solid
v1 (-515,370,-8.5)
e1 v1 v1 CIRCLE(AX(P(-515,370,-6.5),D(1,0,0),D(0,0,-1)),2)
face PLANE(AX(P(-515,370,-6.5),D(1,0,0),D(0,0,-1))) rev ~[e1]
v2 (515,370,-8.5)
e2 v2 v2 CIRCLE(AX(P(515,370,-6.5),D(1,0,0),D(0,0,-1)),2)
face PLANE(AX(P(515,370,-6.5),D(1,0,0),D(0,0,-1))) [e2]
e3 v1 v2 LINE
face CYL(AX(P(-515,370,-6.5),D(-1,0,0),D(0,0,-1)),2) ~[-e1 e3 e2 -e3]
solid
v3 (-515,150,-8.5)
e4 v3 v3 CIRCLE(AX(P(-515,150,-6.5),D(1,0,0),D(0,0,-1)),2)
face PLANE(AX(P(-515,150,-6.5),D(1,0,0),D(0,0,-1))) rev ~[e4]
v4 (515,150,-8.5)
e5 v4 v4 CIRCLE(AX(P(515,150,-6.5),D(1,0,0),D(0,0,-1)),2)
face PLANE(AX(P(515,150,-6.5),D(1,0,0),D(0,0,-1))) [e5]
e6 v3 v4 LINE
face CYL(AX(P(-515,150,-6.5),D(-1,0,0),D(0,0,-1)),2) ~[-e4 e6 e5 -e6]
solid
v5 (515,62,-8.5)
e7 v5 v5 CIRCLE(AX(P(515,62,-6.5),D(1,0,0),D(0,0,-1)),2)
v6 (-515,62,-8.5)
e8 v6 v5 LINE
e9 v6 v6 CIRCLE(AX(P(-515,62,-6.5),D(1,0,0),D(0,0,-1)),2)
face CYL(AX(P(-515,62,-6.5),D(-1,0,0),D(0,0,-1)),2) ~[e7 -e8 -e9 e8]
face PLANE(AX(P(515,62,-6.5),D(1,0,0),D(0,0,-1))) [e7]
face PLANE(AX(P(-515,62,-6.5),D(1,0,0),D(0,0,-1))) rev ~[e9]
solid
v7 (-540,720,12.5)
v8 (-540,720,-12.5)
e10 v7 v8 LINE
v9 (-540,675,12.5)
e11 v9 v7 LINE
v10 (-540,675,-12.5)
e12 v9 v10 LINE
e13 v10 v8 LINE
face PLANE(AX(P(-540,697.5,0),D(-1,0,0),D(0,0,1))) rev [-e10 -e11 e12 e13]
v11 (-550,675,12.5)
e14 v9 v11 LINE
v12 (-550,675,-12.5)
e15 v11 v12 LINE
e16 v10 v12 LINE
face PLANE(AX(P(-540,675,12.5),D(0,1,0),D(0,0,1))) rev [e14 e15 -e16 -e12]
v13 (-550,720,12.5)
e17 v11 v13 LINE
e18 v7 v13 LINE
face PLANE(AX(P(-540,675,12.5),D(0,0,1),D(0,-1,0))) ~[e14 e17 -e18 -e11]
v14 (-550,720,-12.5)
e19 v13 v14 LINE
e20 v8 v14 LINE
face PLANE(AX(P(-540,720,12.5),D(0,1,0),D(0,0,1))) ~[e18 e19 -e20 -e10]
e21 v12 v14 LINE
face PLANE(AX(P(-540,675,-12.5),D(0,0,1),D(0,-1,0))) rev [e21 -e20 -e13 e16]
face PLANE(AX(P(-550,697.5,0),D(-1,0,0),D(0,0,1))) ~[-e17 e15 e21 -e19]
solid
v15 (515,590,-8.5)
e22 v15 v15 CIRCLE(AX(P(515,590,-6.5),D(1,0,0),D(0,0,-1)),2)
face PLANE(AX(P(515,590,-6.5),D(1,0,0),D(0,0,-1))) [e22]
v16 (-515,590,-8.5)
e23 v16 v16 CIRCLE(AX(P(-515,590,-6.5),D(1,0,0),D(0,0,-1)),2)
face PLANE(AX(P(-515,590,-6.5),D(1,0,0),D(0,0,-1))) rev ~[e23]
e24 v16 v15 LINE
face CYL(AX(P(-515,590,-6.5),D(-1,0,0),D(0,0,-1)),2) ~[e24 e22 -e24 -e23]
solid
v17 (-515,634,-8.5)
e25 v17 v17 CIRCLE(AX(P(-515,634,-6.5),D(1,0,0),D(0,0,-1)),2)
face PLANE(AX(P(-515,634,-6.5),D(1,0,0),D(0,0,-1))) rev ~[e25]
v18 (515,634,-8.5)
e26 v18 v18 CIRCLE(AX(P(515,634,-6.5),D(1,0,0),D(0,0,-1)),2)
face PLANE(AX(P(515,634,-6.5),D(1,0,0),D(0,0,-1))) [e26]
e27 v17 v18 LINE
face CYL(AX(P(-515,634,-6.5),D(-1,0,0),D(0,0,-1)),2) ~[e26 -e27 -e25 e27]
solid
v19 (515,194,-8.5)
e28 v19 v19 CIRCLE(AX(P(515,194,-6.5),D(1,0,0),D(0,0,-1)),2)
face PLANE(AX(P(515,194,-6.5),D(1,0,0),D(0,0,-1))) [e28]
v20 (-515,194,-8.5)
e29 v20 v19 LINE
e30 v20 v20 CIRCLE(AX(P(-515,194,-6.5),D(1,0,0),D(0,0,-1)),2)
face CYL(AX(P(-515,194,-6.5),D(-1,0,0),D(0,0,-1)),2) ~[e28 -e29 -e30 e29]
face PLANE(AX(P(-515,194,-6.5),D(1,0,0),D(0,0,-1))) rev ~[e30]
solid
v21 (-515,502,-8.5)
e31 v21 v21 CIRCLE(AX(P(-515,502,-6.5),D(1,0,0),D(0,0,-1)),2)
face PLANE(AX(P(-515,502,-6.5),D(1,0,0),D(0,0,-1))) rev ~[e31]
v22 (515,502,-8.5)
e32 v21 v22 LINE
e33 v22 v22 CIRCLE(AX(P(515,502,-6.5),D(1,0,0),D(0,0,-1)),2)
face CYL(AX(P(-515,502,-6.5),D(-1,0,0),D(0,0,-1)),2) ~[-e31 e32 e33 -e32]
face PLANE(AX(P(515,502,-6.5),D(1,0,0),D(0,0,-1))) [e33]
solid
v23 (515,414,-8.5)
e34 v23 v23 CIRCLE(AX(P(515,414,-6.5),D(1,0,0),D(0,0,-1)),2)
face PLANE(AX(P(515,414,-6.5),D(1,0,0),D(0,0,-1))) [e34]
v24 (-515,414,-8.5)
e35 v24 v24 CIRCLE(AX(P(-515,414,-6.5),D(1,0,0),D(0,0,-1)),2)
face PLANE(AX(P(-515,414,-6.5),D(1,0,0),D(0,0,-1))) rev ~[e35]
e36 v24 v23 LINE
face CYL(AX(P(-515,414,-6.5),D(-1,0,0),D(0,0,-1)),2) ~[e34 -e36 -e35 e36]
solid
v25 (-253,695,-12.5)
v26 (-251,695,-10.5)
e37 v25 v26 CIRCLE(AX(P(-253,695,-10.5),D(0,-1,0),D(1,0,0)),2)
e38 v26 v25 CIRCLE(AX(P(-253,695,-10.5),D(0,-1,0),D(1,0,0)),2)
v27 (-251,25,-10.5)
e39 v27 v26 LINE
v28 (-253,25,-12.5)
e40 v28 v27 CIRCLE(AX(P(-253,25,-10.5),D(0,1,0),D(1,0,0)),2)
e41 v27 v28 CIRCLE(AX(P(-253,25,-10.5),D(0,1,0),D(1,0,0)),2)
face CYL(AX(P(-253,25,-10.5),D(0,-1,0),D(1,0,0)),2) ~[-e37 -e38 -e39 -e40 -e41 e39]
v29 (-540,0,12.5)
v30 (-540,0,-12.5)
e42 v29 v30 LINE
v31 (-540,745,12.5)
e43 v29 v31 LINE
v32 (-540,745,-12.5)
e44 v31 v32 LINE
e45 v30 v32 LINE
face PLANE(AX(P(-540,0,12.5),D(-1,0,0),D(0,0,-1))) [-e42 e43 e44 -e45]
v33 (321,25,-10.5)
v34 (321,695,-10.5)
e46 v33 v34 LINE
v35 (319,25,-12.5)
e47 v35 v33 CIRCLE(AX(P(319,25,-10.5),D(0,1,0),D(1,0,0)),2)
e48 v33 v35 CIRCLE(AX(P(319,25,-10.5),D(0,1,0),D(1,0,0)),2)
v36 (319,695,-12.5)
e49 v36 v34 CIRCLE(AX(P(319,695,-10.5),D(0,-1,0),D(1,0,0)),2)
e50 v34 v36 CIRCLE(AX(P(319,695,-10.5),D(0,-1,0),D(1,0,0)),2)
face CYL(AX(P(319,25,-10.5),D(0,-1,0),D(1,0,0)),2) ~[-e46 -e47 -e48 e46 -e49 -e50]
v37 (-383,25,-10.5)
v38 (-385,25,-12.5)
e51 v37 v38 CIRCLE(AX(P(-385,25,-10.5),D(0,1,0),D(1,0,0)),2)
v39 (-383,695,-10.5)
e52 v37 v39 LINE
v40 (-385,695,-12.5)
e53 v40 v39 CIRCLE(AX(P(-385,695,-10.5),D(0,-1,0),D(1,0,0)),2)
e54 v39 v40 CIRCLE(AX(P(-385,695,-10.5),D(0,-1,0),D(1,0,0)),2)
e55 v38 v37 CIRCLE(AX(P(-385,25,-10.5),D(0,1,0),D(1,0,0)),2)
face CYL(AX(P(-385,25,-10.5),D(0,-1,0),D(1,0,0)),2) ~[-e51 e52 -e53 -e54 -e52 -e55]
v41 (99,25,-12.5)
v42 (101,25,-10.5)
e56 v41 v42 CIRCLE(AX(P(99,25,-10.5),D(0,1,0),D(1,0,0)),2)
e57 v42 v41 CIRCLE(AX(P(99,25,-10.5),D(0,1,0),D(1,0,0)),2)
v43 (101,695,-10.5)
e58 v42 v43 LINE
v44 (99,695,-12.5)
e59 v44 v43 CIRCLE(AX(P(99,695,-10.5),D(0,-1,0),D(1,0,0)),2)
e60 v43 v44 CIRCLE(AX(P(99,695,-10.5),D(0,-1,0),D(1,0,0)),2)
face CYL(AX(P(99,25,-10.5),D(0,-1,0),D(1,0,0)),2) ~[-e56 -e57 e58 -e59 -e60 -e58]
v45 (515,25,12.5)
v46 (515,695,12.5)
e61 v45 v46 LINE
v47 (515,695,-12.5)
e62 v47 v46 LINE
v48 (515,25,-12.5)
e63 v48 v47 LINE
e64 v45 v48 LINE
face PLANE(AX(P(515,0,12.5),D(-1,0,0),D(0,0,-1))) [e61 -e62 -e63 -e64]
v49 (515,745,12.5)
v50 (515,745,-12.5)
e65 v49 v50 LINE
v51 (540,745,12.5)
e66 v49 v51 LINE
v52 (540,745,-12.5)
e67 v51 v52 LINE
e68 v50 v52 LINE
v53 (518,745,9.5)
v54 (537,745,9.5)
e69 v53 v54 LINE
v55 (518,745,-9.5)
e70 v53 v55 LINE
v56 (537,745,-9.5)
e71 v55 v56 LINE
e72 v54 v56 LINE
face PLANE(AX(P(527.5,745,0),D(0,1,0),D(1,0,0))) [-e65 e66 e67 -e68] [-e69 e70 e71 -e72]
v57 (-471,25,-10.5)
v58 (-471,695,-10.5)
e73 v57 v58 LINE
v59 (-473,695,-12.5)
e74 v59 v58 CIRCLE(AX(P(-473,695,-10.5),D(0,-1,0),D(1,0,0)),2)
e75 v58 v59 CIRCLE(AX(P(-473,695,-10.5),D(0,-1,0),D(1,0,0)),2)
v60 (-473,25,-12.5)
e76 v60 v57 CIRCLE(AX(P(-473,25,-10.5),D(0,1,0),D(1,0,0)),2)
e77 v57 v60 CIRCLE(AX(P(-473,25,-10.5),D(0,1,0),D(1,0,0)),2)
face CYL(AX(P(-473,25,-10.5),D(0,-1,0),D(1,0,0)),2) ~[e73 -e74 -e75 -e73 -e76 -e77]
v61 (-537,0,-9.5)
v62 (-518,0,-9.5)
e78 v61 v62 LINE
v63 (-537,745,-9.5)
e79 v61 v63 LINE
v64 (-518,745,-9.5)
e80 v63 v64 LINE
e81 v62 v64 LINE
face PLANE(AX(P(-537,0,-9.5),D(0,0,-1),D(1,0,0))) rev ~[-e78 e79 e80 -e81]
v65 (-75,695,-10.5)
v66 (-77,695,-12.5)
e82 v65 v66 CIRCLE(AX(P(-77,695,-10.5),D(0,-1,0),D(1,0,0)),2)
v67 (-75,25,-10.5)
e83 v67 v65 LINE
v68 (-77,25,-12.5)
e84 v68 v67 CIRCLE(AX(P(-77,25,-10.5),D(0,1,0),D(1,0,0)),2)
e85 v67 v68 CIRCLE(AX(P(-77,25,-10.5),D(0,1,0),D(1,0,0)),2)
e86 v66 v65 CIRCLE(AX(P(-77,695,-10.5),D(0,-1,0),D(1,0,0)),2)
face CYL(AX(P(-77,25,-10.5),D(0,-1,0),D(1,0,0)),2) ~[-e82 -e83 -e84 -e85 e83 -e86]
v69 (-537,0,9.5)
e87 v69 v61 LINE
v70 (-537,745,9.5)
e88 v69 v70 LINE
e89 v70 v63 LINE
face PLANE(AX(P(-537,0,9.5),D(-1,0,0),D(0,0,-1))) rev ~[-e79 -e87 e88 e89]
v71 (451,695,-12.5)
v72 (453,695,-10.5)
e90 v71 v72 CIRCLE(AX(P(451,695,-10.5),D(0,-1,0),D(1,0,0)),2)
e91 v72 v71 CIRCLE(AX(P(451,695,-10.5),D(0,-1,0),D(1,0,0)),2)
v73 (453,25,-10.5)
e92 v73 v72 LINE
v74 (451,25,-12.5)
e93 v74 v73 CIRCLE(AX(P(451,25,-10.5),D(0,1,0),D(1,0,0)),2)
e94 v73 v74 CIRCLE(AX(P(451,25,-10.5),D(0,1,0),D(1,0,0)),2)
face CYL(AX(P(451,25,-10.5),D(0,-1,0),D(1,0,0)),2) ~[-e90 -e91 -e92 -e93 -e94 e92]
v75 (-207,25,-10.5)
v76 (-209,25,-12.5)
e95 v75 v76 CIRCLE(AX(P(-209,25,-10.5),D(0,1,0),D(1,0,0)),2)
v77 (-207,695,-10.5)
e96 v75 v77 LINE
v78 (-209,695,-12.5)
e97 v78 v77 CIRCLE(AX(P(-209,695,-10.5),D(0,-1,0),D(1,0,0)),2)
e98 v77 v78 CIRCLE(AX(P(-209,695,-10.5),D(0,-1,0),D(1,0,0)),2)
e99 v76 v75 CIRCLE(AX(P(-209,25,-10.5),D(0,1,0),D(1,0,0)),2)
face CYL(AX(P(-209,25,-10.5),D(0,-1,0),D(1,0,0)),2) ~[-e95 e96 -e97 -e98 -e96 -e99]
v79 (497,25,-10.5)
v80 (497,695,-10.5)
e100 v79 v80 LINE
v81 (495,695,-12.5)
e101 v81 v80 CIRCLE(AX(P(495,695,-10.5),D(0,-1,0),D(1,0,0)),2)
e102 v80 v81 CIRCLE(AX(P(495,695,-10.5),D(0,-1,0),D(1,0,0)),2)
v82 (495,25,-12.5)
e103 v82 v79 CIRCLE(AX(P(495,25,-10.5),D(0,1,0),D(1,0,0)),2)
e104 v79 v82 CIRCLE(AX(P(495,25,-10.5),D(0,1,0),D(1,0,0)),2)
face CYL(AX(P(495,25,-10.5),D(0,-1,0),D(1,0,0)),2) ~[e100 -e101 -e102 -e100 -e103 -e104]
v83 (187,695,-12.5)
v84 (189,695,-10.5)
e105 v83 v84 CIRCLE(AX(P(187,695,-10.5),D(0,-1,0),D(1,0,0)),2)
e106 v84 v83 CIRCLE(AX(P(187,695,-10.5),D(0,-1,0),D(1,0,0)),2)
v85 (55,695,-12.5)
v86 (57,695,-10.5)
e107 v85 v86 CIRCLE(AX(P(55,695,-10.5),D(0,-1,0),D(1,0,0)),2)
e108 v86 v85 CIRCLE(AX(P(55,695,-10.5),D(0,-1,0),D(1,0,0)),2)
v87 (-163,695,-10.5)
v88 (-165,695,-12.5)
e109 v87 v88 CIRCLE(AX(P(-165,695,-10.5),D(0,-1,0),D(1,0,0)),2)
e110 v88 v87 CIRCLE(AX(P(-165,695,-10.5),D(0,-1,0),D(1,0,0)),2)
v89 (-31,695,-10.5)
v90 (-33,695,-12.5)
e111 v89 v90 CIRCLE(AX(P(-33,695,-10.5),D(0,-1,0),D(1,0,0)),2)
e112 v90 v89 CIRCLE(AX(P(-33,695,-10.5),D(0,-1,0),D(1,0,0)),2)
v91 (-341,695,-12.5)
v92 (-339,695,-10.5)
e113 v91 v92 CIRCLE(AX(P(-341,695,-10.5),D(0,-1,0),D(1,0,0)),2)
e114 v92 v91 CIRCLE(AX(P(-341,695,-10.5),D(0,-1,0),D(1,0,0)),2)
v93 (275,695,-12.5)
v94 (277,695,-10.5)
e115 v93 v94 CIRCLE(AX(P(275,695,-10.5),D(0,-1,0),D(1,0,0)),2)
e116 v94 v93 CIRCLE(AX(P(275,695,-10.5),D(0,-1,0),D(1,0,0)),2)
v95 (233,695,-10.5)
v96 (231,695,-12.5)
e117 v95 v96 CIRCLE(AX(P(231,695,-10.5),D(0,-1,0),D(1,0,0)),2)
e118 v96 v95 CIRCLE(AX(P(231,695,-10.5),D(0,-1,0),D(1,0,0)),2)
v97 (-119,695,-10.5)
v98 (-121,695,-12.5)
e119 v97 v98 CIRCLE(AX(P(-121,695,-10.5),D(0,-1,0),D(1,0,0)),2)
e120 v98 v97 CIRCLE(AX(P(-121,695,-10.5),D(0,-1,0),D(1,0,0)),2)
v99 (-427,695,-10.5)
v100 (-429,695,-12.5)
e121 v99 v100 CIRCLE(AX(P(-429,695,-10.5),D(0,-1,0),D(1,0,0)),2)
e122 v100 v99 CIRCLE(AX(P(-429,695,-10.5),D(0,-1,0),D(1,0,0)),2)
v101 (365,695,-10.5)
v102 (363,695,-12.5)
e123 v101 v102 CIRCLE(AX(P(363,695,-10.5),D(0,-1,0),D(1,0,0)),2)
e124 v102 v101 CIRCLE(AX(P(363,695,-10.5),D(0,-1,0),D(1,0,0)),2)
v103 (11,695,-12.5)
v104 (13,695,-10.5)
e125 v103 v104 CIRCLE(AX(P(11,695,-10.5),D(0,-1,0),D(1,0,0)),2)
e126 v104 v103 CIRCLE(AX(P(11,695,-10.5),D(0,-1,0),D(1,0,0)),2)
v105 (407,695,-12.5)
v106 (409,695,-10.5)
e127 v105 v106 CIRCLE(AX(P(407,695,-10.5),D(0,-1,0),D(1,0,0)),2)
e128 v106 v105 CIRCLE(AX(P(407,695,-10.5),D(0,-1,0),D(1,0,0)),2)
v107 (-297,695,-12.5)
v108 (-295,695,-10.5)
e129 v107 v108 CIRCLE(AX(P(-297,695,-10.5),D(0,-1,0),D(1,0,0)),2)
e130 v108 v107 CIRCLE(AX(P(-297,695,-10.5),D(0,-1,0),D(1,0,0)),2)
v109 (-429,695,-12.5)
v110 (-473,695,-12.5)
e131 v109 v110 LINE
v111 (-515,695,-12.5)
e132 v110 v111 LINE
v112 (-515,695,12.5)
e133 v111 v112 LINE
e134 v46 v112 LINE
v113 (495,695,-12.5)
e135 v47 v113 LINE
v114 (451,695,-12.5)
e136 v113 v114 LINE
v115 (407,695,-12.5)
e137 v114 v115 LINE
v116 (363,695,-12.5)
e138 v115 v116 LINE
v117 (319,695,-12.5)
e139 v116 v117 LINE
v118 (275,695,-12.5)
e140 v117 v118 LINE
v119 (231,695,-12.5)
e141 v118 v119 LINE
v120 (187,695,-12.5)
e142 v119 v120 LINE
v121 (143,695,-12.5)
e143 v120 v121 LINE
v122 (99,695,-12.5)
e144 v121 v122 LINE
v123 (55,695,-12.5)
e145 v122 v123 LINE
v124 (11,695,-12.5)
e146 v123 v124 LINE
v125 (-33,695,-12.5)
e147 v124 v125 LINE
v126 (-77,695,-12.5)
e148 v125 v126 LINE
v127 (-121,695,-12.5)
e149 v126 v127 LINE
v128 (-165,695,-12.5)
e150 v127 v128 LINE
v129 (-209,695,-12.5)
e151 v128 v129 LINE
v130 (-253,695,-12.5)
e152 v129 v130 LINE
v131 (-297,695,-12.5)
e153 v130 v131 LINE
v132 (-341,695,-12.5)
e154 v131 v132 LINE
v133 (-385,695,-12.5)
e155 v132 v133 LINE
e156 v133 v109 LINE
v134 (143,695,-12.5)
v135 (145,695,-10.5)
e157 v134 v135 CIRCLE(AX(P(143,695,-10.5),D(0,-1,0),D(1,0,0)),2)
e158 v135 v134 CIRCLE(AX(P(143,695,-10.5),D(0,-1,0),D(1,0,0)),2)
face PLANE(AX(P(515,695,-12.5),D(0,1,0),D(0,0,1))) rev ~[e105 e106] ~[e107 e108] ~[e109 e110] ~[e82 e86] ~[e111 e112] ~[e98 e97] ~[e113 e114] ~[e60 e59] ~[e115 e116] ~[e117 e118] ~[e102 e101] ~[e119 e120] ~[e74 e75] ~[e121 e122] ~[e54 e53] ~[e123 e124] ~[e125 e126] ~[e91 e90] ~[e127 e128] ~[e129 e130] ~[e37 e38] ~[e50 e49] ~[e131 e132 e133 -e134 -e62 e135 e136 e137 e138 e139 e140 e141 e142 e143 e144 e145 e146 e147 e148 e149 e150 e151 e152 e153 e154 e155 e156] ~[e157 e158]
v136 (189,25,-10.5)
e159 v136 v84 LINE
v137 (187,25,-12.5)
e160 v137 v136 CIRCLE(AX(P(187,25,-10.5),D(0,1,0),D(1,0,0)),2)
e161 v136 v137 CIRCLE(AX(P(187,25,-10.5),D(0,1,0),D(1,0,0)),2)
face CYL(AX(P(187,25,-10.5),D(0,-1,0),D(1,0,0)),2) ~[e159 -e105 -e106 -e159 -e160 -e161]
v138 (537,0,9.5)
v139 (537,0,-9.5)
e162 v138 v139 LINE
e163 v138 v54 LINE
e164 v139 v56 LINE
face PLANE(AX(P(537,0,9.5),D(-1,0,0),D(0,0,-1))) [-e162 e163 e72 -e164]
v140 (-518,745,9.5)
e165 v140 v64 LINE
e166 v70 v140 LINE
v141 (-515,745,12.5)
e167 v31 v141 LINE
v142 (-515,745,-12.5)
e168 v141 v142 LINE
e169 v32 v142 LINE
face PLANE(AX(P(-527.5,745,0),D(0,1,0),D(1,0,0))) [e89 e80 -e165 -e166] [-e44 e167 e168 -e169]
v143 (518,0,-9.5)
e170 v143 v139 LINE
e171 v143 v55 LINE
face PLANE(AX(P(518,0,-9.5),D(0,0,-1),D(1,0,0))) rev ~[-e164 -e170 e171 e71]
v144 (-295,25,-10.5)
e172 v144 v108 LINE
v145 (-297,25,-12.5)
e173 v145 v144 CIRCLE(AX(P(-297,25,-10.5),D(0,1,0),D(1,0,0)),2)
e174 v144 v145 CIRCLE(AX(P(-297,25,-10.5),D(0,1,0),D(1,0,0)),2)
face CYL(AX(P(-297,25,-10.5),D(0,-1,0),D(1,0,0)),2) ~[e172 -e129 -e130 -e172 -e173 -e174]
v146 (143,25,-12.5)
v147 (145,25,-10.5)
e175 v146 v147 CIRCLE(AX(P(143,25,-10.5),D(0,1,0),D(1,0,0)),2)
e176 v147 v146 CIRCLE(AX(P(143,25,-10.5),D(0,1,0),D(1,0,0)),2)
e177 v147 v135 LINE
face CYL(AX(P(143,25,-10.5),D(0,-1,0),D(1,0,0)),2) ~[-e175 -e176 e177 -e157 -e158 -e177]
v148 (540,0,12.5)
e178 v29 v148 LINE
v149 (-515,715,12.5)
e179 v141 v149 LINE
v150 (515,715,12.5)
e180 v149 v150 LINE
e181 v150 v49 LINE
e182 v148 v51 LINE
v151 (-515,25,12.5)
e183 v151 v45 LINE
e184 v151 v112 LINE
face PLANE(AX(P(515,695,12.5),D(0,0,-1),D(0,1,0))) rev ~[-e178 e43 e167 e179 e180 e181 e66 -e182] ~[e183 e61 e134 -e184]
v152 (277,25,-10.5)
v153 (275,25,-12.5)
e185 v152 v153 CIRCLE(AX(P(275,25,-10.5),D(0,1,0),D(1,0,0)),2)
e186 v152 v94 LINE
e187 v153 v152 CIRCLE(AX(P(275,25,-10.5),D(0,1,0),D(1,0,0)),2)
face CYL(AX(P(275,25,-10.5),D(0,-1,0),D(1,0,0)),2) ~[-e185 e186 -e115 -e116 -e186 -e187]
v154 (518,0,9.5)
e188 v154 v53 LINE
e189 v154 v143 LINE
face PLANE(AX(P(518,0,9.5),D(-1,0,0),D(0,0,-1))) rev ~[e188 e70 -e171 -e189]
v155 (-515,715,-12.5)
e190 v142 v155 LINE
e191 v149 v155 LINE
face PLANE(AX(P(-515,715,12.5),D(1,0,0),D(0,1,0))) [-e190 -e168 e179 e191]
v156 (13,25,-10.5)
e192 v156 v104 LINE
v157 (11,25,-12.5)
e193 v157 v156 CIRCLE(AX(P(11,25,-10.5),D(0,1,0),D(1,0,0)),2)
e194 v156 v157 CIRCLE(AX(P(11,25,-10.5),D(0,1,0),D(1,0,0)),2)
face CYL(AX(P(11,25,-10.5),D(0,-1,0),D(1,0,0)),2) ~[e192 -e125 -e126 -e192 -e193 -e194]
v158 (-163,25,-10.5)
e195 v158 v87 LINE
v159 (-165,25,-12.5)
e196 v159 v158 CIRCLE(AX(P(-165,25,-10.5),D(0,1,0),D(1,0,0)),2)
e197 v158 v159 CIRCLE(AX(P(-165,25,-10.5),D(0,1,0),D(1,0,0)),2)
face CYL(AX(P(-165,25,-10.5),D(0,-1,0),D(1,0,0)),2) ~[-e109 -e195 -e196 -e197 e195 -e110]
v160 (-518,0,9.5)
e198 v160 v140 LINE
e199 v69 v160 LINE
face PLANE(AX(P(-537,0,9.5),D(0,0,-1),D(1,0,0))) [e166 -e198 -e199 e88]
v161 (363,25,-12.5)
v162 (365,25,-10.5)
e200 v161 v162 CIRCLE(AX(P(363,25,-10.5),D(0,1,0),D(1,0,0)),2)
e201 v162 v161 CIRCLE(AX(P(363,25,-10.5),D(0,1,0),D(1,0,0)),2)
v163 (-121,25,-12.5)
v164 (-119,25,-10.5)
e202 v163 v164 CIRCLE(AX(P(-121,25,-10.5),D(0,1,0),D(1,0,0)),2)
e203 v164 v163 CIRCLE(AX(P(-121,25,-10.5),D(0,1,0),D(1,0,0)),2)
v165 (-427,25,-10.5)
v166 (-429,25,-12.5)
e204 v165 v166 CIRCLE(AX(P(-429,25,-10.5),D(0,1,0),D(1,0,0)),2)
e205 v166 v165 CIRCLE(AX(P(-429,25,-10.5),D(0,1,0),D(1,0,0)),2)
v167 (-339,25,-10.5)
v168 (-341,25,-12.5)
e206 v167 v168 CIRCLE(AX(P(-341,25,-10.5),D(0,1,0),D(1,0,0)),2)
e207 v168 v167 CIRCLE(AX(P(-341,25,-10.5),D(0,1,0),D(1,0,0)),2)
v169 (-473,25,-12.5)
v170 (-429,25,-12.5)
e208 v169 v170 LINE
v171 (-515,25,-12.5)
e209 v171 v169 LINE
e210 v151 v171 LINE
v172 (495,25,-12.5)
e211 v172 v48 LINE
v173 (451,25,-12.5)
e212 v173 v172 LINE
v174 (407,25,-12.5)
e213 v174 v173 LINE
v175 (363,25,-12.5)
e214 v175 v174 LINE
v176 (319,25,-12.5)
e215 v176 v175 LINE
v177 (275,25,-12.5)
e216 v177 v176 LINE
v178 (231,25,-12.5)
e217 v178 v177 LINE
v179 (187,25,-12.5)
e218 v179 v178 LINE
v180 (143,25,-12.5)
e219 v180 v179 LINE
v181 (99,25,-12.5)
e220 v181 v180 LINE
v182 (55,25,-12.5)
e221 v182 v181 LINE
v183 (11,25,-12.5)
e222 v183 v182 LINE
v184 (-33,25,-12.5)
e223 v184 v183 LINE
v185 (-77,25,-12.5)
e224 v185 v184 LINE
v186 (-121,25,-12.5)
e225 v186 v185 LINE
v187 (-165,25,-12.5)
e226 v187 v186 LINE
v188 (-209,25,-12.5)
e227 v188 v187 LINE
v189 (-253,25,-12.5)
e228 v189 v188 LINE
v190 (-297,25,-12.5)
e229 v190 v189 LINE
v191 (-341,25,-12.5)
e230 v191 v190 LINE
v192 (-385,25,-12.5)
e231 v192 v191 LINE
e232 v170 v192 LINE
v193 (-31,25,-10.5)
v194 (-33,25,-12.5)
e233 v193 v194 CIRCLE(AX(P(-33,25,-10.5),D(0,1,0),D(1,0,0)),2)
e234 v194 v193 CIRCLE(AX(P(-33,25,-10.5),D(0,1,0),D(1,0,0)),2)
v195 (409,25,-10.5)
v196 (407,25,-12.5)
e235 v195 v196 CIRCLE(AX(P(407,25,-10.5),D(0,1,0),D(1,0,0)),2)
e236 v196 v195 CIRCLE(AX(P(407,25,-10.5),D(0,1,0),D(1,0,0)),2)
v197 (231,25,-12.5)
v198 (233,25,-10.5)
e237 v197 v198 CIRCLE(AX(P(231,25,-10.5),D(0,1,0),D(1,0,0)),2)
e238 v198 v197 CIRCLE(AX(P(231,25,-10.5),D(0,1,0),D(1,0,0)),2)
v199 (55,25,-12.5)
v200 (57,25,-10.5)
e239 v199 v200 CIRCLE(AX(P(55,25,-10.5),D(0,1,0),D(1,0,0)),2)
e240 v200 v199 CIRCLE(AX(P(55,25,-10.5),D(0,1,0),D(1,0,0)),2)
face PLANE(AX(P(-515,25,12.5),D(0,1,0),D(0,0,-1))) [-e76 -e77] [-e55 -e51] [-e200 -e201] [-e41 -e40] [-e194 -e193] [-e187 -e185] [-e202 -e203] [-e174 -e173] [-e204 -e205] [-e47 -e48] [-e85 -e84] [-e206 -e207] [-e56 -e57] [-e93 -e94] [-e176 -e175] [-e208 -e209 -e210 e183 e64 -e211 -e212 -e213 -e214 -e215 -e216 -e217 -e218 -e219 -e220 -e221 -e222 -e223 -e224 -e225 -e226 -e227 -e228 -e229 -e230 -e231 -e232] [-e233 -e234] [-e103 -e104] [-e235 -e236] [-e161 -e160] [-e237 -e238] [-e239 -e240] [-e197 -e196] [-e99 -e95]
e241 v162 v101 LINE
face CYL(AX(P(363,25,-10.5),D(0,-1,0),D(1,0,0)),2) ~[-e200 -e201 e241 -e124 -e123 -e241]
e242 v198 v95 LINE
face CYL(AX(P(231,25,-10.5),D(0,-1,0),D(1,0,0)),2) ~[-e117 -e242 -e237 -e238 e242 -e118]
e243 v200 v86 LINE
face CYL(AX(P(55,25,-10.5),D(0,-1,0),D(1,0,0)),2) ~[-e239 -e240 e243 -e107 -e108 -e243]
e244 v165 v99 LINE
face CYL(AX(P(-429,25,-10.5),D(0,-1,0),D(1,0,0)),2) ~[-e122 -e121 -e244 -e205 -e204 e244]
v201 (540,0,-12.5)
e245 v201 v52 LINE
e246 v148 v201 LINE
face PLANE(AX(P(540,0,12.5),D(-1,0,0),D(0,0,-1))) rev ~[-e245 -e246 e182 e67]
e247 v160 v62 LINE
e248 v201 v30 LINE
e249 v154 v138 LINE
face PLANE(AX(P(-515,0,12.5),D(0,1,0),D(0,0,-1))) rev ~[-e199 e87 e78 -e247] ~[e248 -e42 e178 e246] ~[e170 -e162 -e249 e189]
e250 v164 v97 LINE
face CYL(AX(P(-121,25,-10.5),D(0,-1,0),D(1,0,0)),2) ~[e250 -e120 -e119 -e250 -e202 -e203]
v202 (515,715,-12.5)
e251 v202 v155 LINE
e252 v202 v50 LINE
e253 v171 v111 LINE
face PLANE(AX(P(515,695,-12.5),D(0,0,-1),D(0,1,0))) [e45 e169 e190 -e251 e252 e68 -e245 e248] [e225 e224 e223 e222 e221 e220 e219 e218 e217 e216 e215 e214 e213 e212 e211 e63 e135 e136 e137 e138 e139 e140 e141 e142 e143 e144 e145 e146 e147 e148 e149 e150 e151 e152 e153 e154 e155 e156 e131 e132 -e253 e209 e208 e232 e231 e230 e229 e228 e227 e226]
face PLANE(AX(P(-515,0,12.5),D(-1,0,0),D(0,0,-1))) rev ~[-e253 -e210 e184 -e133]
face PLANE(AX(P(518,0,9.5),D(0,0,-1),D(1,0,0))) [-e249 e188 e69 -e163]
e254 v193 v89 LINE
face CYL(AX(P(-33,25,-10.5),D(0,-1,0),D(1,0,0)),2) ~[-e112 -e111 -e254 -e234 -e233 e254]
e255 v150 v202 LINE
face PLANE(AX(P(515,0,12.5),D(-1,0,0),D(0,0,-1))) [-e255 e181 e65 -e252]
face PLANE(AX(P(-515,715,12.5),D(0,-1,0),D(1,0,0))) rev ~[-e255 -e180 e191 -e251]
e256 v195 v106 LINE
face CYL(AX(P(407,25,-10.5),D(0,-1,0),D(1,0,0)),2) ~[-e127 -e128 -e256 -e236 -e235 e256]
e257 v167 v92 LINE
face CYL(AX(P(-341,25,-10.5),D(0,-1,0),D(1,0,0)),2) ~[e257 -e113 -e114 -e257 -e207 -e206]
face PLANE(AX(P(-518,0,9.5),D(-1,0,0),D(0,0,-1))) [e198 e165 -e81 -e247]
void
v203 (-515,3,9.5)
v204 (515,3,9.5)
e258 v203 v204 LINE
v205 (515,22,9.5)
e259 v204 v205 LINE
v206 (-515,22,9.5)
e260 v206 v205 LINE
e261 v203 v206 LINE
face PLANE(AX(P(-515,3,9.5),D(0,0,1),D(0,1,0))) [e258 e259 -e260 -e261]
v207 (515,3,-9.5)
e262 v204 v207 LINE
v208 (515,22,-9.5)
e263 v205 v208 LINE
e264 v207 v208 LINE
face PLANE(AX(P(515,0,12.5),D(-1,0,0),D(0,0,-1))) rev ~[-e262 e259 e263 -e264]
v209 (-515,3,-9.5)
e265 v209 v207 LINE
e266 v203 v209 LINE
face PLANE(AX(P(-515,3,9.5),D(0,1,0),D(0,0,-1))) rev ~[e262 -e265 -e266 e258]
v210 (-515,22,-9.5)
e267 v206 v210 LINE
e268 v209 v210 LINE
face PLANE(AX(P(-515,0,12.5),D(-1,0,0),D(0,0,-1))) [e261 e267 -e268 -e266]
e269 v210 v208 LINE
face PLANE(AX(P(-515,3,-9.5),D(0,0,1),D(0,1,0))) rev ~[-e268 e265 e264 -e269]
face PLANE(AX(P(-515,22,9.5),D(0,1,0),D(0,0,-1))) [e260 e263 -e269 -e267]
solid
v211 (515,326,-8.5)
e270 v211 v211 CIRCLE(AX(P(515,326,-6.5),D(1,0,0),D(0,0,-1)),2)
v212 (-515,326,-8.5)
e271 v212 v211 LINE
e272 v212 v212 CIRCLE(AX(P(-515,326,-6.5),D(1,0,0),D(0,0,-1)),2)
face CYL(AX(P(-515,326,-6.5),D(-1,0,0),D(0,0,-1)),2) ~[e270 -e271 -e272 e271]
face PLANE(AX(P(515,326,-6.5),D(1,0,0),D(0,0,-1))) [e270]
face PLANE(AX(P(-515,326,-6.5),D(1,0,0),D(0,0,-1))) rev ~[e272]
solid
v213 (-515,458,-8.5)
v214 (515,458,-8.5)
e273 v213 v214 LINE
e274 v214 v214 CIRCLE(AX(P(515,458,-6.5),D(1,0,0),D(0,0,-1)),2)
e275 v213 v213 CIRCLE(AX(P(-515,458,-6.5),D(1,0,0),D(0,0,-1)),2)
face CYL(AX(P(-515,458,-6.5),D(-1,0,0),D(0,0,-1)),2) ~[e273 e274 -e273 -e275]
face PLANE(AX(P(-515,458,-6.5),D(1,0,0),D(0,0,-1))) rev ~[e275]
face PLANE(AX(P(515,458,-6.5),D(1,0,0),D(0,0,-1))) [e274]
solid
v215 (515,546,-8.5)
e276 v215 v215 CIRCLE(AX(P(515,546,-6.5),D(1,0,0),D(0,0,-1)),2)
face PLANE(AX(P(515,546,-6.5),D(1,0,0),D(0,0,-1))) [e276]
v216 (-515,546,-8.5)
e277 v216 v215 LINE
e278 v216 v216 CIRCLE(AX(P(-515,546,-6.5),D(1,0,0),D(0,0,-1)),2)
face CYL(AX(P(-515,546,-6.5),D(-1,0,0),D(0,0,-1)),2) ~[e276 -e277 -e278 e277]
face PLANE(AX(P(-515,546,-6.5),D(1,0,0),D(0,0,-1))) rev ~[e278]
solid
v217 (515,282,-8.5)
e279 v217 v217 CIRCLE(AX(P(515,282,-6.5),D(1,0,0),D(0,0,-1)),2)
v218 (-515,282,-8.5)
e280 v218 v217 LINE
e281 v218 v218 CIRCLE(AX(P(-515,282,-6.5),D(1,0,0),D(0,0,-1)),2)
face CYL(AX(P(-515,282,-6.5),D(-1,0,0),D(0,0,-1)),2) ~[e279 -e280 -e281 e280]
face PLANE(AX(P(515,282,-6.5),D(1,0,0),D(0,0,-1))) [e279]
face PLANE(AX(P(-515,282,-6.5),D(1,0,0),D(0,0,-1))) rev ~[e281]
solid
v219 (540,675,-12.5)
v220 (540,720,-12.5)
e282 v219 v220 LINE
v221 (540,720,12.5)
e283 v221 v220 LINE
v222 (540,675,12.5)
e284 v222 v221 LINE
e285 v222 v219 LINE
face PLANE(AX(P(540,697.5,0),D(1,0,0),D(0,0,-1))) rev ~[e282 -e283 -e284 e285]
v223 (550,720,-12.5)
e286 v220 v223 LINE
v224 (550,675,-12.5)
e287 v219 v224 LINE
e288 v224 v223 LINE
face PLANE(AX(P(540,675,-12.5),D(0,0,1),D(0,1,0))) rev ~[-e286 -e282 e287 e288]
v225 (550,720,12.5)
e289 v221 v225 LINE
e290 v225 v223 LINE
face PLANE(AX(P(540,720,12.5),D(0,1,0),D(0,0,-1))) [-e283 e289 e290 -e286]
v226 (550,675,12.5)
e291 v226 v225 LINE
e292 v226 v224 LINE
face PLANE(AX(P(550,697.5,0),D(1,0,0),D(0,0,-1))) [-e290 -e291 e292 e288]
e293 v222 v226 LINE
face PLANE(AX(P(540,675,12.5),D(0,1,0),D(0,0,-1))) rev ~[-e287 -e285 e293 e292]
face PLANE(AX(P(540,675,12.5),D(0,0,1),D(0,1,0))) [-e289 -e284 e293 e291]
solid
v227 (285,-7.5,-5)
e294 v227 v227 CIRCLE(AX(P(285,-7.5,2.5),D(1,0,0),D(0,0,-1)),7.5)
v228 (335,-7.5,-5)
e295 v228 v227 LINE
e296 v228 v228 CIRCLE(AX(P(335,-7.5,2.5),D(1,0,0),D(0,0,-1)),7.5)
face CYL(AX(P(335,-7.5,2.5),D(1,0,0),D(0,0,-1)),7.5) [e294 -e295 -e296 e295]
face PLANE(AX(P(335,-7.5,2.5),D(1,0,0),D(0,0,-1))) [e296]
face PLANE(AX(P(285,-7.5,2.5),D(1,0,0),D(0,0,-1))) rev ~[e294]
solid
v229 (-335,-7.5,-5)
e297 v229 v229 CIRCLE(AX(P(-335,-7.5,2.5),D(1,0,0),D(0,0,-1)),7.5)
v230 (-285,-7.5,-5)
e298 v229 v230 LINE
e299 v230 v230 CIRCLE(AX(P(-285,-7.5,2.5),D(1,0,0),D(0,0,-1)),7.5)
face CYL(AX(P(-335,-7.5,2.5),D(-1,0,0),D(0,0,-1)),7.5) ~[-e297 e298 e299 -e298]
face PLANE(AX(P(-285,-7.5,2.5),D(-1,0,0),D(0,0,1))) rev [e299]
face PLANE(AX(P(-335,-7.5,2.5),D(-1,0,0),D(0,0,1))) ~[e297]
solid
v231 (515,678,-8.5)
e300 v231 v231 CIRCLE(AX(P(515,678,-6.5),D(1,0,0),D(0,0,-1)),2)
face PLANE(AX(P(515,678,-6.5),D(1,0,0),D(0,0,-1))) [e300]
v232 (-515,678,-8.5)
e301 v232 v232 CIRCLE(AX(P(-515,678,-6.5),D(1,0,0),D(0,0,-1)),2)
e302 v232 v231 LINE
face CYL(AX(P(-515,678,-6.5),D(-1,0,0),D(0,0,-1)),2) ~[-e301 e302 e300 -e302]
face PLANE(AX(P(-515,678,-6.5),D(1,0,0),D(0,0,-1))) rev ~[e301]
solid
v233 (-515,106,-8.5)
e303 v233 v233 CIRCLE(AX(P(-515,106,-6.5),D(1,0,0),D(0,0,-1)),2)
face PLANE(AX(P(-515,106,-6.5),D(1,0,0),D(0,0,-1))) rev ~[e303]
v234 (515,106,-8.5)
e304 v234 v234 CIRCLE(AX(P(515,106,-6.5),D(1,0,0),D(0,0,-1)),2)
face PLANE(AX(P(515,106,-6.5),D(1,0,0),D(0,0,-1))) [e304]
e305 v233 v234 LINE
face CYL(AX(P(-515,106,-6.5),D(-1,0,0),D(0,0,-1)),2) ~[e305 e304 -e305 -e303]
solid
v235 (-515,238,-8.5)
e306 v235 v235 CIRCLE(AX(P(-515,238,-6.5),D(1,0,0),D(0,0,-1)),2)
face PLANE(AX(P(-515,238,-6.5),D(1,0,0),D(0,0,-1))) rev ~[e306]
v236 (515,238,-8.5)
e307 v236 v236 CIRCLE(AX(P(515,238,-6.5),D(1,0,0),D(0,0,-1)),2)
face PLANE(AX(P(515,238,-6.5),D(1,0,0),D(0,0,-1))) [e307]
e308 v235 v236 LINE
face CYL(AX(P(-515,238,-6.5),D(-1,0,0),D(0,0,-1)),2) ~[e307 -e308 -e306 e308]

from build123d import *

# Parameters (mm, degrees)
SCHIZZO1_W                      = 25
SCHIZZO1_H                      = 25
SCHIZZO1_W_2                    = 19
SCHIZZO1_H_2                    = 19
ESTRUSIONE_ESTRUSIONE1_DEPTH    = 745
ESTRUSIONE_ESTRUSIONE1_2_DEPTH  = 745
SCHIZZO2_W                      = 25
SCHIZZO2_H                      = 25
SCHIZZO2_W_2                    = 19
SCHIZZO2_H_2                    = 19
ESTRUSIONE_ESTRUSIONE2_DEPTH    = 1030
ESTRUSIONE_ESTRUSIONE2_2_DEPTH  = 1030
SCHIZZO4_R                      = 7.5
ESTRUSIONE_ESTRUSIONE3_DEPTH    = 50
SCHIZZO5_W                      = 25
SCHIZZO5_H                      = 45
ESTRUSIONE_ESTRUSIONE4_DEPTH    = 10
SCHIZZO6_R                      = 2
ESTRUSIONE_ESTRUSIONE5_DEPTH    = 698
SCHIZZO7_R                      = 2
ESTRUSIONE_ESTRUSIONE7_DEPTH    = 1030
ESTRUSIONE_ESTRUSIONE7_2_DEPTH  = 1030
ESTRUSIONE_ESTRUSIONE7_3_DEPTH  = 1030
ESTRUSIONE_ESTRUSIONE7_4_DEPTH  = 1030
ESTRUSIONE_ESTRUSIONE7_5_DEPTH  = 1030
ESTRUSIONE_ESTRUSIONE7_6_DEPTH  = 1030
ESTRUSIONE_ESTRUSIONE7_7_DEPTH  = 1030
ESTRUSIONE_ESTRUSIONE7_8_DEPTH  = 1030
ESTRUSIONE_ESTRUSIONE7_9_DEPTH  = 1030
ESTRUSIONE_ESTRUSIONE7_10_DEPTH = 1030
ESTRUSIONE_ESTRUSIONE7_11_DEPTH = 1030
ESTRUSIONE_ESTRUSIONE7_12_DEPTH = 1030
ESTRUSIONE_ESTRUSIONE7_13_DEPTH = 1030
ESTRUSIONE_ESTRUSIONE7_14_DEPTH = 1030
ESTRUSIONE_ESTRUSIONE7_15_DEPTH = 1030
SCHIZZO8_W                      = 1030
SCHIZZO8_H                      = 20
TAGLIO_ESTRUSIONE1_DEPTH        = 39
SCHIZZO9_W                      = 25
SCHIZZO9_H                      = 25
ESTRUSIONE_ESTRUSIONE8_DEPTH    = 1030
SCHIZZO10_W                     = 1030
SCHIZZO10_H                     = 10
TAGLIO_ESTRUSIONE2_DEPTH        = 26


with BuildPart() as part:
    # Schizzo1 → Estrusione-Estrusione1 (new body)
    with BuildSketch(Plane(origin=(0, 0, 0), x_dir=(1, 0, 0), z_dir=(0, 1, 0))):
        with Locations((-527.5, 0)):
            Rectangle(SCHIZZO1_W, SCHIZZO1_H)
        with Locations((-527.5, 0)):
            Rectangle(SCHIZZO1_W_2, SCHIZZO1_H_2, mode=Mode.SUBTRACT)
    extrude(amount=ESTRUSIONE_ESTRUSIONE1_DEPTH)



with BuildPart() as body_2:
    # Schizzo1 → Estrusione-Estrusione1 2 (new body)
    with BuildSketch(Plane(origin=(0, 0, 0), x_dir=(1, 0, 0), z_dir=(0, 1, 0))):
        with Locations((527.5, 0)):
            Rectangle(SCHIZZO1_W, SCHIZZO1_H)
        with Locations((527.5, 0)):
            Rectangle(SCHIZZO1_W_2, SCHIZZO1_H_2, mode=Mode.SUBTRACT)
    extrude(amount=ESTRUSIONE_ESTRUSIONE1_2_DEPTH)


with BuildPart() as body_3:
    # Schizzo2 → Estrusione-Estrusione2 (new body)
    with BuildSketch(Plane(origin=(-515, 0, 0), x_dir=(0, 0, -1), z_dir=(1, 0, 0))):
        with Locations((0, 12.5)):
            Rectangle(SCHIZZO2_W, SCHIZZO2_H)
        with Locations((0, 12.5)):
            Rectangle(SCHIZZO2_W_2, SCHIZZO2_H_2, mode=Mode.SUBTRACT)
    extrude(amount=ESTRUSIONE_ESTRUSIONE2_DEPTH)



with BuildPart() as body_4:
    # Schizzo2 → Estrusione-Estrusione2 2 (new body)
    with BuildSketch(Plane(origin=(-515, 0, 0), x_dir=(0, 0, -1), z_dir=(1, 0, 0))):
        with Locations((0, 732.5)):
            Rectangle(SCHIZZO2_W, SCHIZZO2_H)
        with Locations((0, 732.5)):
            Rectangle(SCHIZZO2_W_2, SCHIZZO2_H_2, mode=Mode.SUBTRACT)
    extrude(amount=ESTRUSIONE_ESTRUSIONE2_2_DEPTH)


with BuildPart() as body_5:
    # Schizzo4 → Estrusione-Estrusione3 (new body)
    with BuildSketch(Plane(origin=(335, 0, 0), x_dir=(0, 0, -1), z_dir=(1, 0, 0))):
        with Locations((-2.5, -7.5)):
            Circle(SCHIZZO4_R)
    extrude(amount=-ESTRUSIONE_ESTRUSIONE3_DEPTH)


with BuildPart() as body_6:
    # Specchia1: mirrored copy
    add(body_5.part.mirror(Plane(origin=(0, 0, 0), x_dir=(0, 0, 1), z_dir=(1, 0, 0))))


with BuildPart() as body_7:
    # Schizzo5 → Estrusione-Estrusione4 (new body)
    with BuildSketch(Plane(origin=(540, 0, 0), x_dir=(0, 0, -1), z_dir=(1, 0, 0))):
        with Locations((0, 697.5)):
            Rectangle(SCHIZZO5_W, SCHIZZO5_H)
    extrude(amount=ESTRUSIONE_ESTRUSIONE4_DEPTH)


with BuildPart() as body_8:
    # Specchia2: mirrored copy
    add(body_7.part.mirror(Plane(origin=(0, 0, 0), x_dir=(0, 0, 1), z_dir=(1, 0, 0))))


with BuildPart() as body_3_1:
    add(body_3.part)

    add(body_4.part)  # Estrusione-Estrusione5 merges body 4
    # Schizzo6 → Estrusione-Estrusione5 (add)
    with BuildSketch(Plane(origin=(0, 25, 0), x_dir=(1, 0, 0), z_dir=(0, 1, 0))):
        with Locations((-473, 10.5)):
            Circle(SCHIZZO6_R)
        with Locations((-429, 10.5)):
            Circle(SCHIZZO6_R)
        with Locations((-385, 10.5)):
            Circle(SCHIZZO6_R)
        with Locations((-341, 10.5)):
            Circle(SCHIZZO6_R)
        with Locations((-297, 10.5)):
            Circle(SCHIZZO6_R)
        with Locations((-253, 10.5)):
            Circle(SCHIZZO6_R)
        with Locations((-209, 10.5)):
            Circle(SCHIZZO6_R)
        with Locations((-165, 10.5)):
            Circle(SCHIZZO6_R)
        with Locations((-121, 10.5)):
            Circle(SCHIZZO6_R)
        with Locations((-77, 10.5)):
            Circle(SCHIZZO6_R)
        with Locations((-33, 10.5)):
            Circle(SCHIZZO6_R)
        with Locations((11, 10.5)):
            Circle(SCHIZZO6_R)
        with Locations((55, 10.5)):
            Circle(SCHIZZO6_R)
        with Locations((99, 10.5)):
            Circle(SCHIZZO6_R)
        with Locations((143, 10.5)):
            Circle(SCHIZZO6_R)
        with Locations((187, 10.5)):
            Circle(SCHIZZO6_R)
        with Locations((231, 10.5)):
            Circle(SCHIZZO6_R)
        with Locations((275, 10.5)):
            Circle(SCHIZZO6_R)
        with Locations((319, 10.5)):
            Circle(SCHIZZO6_R)
        with Locations((363, 10.5)):
            Circle(SCHIZZO6_R)
        with Locations((407, 10.5)):
            Circle(SCHIZZO6_R)
        with Locations((451, 10.5)):
            Circle(SCHIZZO6_R)
        with Locations((495, 10.5)):
            Circle(SCHIZZO6_R)
    extrude(amount=ESTRUSIONE_ESTRUSIONE5_DEPTH)

    # Schizzo8 → Taglio-Estrusione1 (cut)
    with BuildSketch(Plane(origin=(0, 0, -12.5), x_dir=(-1, 0, 0), z_dir=(0, 0, -1))):
        with Locations((0, 735)):
            Rectangle(SCHIZZO8_W, SCHIZZO8_H)
    extrude(amount=-TAGLIO_ESTRUSIONE1_DEPTH, mode=Mode.SUBTRACT)


with BuildPart() as body_8_2:
    # Schizzo7 → Estrusione-Estrusione7 (new body)
    with BuildSketch(Plane(origin=(-515, 0, 0), x_dir=(0, 0, -1), z_dir=(1, 0, 0))):
        with Locations((6.5, 678)):
            Circle(SCHIZZO7_R)
    extrude(amount=ESTRUSIONE_ESTRUSIONE7_DEPTH)


with BuildPart() as body_9:
    # Schizzo7 → Estrusione-Estrusione7 2 (new body)
    with BuildSketch(Plane(origin=(-515, 0, 0), x_dir=(0, 0, -1), z_dir=(1, 0, 0))):
        with Locations((6.5, 634)):
            Circle(SCHIZZO7_R)
    extrude(amount=ESTRUSIONE_ESTRUSIONE7_2_DEPTH)


with BuildPart() as body_10:
    # Schizzo7 → Estrusione-Estrusione7 3 (new body)
    with BuildSketch(Plane(origin=(-515, 0, 0), x_dir=(0, 0, -1), z_dir=(1, 0, 0))):
        with Locations((6.5, 590)):
            Circle(SCHIZZO7_R)
    extrude(amount=ESTRUSIONE_ESTRUSIONE7_3_DEPTH)


with BuildPart() as body_11:
    # Schizzo7 → Estrusione-Estrusione7 4 (new body)
    with BuildSketch(Plane(origin=(-515, 0, 0), x_dir=(0, 0, -1), z_dir=(1, 0, 0))):
        with Locations((6.5, 546)):
            Circle(SCHIZZO7_R)
    extrude(amount=ESTRUSIONE_ESTRUSIONE7_4_DEPTH)


with BuildPart() as body_12:
    # Schizzo7 → Estrusione-Estrusione7 5 (new body)
    with BuildSketch(Plane(origin=(-515, 0, 0), x_dir=(0, 0, -1), z_dir=(1, 0, 0))):
        with Locations((6.5, 502)):
            Circle(SCHIZZO7_R)
    extrude(amount=ESTRUSIONE_ESTRUSIONE7_5_DEPTH)


with BuildPart() as body_13:
    # Schizzo7 → Estrusione-Estrusione7 6 (new body)
    with BuildSketch(Plane(origin=(-515, 0, 0), x_dir=(0, 0, -1), z_dir=(1, 0, 0))):
        with Locations((6.5, 458)):
            Circle(SCHIZZO7_R)
    extrude(amount=ESTRUSIONE_ESTRUSIONE7_6_DEPTH)


with BuildPart() as body_14:
    # Schizzo7 → Estrusione-Estrusione7 7 (new body)
    with BuildSketch(Plane(origin=(-515, 0, 0), x_dir=(0, 0, -1), z_dir=(1, 0, 0))):
        with Locations((6.5, 414)):
            Circle(SCHIZZO7_R)
    extrude(amount=ESTRUSIONE_ESTRUSIONE7_7_DEPTH)


with BuildPart() as body_15:
    # Schizzo7 → Estrusione-Estrusione7 8 (new body)
    with BuildSketch(Plane(origin=(-515, 0, 0), x_dir=(0, 0, -1), z_dir=(1, 0, 0))):
        with Locations((6.5, 370)):
            Circle(SCHIZZO7_R)
    extrude(amount=ESTRUSIONE_ESTRUSIONE7_8_DEPTH)


with BuildPart() as body_16:
    # Schizzo7 → Estrusione-Estrusione7 9 (new body)
    with BuildSketch(Plane(origin=(-515, 0, 0), x_dir=(0, 0, -1), z_dir=(1, 0, 0))):
        with Locations((6.5, 326)):
            Circle(SCHIZZO7_R)
    extrude(amount=ESTRUSIONE_ESTRUSIONE7_9_DEPTH)


with BuildPart() as body_17:
    # Schizzo7 → Estrusione-Estrusione7 10 (new body)
    with BuildSketch(Plane(origin=(-515, 0, 0), x_dir=(0, 0, -1), z_dir=(1, 0, 0))):
        with Locations((6.5, 282)):
            Circle(SCHIZZO7_R)
    extrude(amount=ESTRUSIONE_ESTRUSIONE7_10_DEPTH)


with BuildPart() as body_18:
    # Schizzo7 → Estrusione-Estrusione7 11 (new body)
    with BuildSketch(Plane(origin=(-515, 0, 0), x_dir=(0, 0, -1), z_dir=(1, 0, 0))):
        with Locations((6.5, 238)):
            Circle(SCHIZZO7_R)
    extrude(amount=ESTRUSIONE_ESTRUSIONE7_11_DEPTH)


with BuildPart() as body_19:
    # Schizzo7 → Estrusione-Estrusione7 12 (new body)
    with BuildSketch(Plane(origin=(-515, 0, 0), x_dir=(0, 0, -1), z_dir=(1, 0, 0))):
        with Locations((6.5, 194)):
            Circle(SCHIZZO7_R)
    extrude(amount=ESTRUSIONE_ESTRUSIONE7_12_DEPTH)


with BuildPart() as body_20:
    # Schizzo7 → Estrusione-Estrusione7 13 (new body)
    with BuildSketch(Plane(origin=(-515, 0, 0), x_dir=(0, 0, -1), z_dir=(1, 0, 0))):
        with Locations((6.5, 150)):
            Circle(SCHIZZO7_R)
    extrude(amount=ESTRUSIONE_ESTRUSIONE7_13_DEPTH)


with BuildPart() as body_21:
    # Schizzo7 → Estrusione-Estrusione7 14 (new body)
    with BuildSketch(Plane(origin=(-515, 0, 0), x_dir=(0, 0, -1), z_dir=(1, 0, 0))):
        with Locations((6.5, 106)):
            Circle(SCHIZZO7_R)
    extrude(amount=ESTRUSIONE_ESTRUSIONE7_14_DEPTH)


with BuildPart() as body_22:
    # Schizzo7 → Estrusione-Estrusione7 15 (new body)
    with BuildSketch(Plane(origin=(-515, 0, 0), x_dir=(0, 0, -1), z_dir=(1, 0, 0))):
        with Locations((6.5, 62)):
            Circle(SCHIZZO7_R)
    extrude(amount=ESTRUSIONE_ESTRUSIONE7_15_DEPTH)


with BuildPart() as part_1:
    add(part.part)

    add(body_2.part)  # Estrusione-Estrusione8 merges body 2

    add(body_3_1.part)  # Estrusione-Estrusione8 merges body 3
    # Schizzo9 → Estrusione-Estrusione8 (add)
    with BuildSketch(Plane.ZY.offset(-515)):
        with Locations((0, 707.5)):
            Rectangle(SCHIZZO9_W, SCHIZZO9_H)
    extrude(amount=ESTRUSIONE_ESTRUSIONE8_DEPTH)

    # Schizzo10 → Taglio-Estrusione2 (cut, through all)
    with BuildSketch(Plane.XY.offset(12.5)):
        with Locations((0, 720)):
            Rectangle(SCHIZZO10_W, SCHIZZO10_H)
    extrude(amount=-TAGLIO_ESTRUSIONE2_DEPTH, mode=Mode.SUBTRACT)


solid = Compound([body_5.part, body_6.part, body_7.part, body_8.part, body_8_2.part, body_9.part, body_10.part, body_11.part, body_12.part, body_13.part, body_14.part, body_15.part, body_16.part, body_17.part, body_18.part, body_19.part, body_20.part, body_21.part, body_22.part, part_1.part])
